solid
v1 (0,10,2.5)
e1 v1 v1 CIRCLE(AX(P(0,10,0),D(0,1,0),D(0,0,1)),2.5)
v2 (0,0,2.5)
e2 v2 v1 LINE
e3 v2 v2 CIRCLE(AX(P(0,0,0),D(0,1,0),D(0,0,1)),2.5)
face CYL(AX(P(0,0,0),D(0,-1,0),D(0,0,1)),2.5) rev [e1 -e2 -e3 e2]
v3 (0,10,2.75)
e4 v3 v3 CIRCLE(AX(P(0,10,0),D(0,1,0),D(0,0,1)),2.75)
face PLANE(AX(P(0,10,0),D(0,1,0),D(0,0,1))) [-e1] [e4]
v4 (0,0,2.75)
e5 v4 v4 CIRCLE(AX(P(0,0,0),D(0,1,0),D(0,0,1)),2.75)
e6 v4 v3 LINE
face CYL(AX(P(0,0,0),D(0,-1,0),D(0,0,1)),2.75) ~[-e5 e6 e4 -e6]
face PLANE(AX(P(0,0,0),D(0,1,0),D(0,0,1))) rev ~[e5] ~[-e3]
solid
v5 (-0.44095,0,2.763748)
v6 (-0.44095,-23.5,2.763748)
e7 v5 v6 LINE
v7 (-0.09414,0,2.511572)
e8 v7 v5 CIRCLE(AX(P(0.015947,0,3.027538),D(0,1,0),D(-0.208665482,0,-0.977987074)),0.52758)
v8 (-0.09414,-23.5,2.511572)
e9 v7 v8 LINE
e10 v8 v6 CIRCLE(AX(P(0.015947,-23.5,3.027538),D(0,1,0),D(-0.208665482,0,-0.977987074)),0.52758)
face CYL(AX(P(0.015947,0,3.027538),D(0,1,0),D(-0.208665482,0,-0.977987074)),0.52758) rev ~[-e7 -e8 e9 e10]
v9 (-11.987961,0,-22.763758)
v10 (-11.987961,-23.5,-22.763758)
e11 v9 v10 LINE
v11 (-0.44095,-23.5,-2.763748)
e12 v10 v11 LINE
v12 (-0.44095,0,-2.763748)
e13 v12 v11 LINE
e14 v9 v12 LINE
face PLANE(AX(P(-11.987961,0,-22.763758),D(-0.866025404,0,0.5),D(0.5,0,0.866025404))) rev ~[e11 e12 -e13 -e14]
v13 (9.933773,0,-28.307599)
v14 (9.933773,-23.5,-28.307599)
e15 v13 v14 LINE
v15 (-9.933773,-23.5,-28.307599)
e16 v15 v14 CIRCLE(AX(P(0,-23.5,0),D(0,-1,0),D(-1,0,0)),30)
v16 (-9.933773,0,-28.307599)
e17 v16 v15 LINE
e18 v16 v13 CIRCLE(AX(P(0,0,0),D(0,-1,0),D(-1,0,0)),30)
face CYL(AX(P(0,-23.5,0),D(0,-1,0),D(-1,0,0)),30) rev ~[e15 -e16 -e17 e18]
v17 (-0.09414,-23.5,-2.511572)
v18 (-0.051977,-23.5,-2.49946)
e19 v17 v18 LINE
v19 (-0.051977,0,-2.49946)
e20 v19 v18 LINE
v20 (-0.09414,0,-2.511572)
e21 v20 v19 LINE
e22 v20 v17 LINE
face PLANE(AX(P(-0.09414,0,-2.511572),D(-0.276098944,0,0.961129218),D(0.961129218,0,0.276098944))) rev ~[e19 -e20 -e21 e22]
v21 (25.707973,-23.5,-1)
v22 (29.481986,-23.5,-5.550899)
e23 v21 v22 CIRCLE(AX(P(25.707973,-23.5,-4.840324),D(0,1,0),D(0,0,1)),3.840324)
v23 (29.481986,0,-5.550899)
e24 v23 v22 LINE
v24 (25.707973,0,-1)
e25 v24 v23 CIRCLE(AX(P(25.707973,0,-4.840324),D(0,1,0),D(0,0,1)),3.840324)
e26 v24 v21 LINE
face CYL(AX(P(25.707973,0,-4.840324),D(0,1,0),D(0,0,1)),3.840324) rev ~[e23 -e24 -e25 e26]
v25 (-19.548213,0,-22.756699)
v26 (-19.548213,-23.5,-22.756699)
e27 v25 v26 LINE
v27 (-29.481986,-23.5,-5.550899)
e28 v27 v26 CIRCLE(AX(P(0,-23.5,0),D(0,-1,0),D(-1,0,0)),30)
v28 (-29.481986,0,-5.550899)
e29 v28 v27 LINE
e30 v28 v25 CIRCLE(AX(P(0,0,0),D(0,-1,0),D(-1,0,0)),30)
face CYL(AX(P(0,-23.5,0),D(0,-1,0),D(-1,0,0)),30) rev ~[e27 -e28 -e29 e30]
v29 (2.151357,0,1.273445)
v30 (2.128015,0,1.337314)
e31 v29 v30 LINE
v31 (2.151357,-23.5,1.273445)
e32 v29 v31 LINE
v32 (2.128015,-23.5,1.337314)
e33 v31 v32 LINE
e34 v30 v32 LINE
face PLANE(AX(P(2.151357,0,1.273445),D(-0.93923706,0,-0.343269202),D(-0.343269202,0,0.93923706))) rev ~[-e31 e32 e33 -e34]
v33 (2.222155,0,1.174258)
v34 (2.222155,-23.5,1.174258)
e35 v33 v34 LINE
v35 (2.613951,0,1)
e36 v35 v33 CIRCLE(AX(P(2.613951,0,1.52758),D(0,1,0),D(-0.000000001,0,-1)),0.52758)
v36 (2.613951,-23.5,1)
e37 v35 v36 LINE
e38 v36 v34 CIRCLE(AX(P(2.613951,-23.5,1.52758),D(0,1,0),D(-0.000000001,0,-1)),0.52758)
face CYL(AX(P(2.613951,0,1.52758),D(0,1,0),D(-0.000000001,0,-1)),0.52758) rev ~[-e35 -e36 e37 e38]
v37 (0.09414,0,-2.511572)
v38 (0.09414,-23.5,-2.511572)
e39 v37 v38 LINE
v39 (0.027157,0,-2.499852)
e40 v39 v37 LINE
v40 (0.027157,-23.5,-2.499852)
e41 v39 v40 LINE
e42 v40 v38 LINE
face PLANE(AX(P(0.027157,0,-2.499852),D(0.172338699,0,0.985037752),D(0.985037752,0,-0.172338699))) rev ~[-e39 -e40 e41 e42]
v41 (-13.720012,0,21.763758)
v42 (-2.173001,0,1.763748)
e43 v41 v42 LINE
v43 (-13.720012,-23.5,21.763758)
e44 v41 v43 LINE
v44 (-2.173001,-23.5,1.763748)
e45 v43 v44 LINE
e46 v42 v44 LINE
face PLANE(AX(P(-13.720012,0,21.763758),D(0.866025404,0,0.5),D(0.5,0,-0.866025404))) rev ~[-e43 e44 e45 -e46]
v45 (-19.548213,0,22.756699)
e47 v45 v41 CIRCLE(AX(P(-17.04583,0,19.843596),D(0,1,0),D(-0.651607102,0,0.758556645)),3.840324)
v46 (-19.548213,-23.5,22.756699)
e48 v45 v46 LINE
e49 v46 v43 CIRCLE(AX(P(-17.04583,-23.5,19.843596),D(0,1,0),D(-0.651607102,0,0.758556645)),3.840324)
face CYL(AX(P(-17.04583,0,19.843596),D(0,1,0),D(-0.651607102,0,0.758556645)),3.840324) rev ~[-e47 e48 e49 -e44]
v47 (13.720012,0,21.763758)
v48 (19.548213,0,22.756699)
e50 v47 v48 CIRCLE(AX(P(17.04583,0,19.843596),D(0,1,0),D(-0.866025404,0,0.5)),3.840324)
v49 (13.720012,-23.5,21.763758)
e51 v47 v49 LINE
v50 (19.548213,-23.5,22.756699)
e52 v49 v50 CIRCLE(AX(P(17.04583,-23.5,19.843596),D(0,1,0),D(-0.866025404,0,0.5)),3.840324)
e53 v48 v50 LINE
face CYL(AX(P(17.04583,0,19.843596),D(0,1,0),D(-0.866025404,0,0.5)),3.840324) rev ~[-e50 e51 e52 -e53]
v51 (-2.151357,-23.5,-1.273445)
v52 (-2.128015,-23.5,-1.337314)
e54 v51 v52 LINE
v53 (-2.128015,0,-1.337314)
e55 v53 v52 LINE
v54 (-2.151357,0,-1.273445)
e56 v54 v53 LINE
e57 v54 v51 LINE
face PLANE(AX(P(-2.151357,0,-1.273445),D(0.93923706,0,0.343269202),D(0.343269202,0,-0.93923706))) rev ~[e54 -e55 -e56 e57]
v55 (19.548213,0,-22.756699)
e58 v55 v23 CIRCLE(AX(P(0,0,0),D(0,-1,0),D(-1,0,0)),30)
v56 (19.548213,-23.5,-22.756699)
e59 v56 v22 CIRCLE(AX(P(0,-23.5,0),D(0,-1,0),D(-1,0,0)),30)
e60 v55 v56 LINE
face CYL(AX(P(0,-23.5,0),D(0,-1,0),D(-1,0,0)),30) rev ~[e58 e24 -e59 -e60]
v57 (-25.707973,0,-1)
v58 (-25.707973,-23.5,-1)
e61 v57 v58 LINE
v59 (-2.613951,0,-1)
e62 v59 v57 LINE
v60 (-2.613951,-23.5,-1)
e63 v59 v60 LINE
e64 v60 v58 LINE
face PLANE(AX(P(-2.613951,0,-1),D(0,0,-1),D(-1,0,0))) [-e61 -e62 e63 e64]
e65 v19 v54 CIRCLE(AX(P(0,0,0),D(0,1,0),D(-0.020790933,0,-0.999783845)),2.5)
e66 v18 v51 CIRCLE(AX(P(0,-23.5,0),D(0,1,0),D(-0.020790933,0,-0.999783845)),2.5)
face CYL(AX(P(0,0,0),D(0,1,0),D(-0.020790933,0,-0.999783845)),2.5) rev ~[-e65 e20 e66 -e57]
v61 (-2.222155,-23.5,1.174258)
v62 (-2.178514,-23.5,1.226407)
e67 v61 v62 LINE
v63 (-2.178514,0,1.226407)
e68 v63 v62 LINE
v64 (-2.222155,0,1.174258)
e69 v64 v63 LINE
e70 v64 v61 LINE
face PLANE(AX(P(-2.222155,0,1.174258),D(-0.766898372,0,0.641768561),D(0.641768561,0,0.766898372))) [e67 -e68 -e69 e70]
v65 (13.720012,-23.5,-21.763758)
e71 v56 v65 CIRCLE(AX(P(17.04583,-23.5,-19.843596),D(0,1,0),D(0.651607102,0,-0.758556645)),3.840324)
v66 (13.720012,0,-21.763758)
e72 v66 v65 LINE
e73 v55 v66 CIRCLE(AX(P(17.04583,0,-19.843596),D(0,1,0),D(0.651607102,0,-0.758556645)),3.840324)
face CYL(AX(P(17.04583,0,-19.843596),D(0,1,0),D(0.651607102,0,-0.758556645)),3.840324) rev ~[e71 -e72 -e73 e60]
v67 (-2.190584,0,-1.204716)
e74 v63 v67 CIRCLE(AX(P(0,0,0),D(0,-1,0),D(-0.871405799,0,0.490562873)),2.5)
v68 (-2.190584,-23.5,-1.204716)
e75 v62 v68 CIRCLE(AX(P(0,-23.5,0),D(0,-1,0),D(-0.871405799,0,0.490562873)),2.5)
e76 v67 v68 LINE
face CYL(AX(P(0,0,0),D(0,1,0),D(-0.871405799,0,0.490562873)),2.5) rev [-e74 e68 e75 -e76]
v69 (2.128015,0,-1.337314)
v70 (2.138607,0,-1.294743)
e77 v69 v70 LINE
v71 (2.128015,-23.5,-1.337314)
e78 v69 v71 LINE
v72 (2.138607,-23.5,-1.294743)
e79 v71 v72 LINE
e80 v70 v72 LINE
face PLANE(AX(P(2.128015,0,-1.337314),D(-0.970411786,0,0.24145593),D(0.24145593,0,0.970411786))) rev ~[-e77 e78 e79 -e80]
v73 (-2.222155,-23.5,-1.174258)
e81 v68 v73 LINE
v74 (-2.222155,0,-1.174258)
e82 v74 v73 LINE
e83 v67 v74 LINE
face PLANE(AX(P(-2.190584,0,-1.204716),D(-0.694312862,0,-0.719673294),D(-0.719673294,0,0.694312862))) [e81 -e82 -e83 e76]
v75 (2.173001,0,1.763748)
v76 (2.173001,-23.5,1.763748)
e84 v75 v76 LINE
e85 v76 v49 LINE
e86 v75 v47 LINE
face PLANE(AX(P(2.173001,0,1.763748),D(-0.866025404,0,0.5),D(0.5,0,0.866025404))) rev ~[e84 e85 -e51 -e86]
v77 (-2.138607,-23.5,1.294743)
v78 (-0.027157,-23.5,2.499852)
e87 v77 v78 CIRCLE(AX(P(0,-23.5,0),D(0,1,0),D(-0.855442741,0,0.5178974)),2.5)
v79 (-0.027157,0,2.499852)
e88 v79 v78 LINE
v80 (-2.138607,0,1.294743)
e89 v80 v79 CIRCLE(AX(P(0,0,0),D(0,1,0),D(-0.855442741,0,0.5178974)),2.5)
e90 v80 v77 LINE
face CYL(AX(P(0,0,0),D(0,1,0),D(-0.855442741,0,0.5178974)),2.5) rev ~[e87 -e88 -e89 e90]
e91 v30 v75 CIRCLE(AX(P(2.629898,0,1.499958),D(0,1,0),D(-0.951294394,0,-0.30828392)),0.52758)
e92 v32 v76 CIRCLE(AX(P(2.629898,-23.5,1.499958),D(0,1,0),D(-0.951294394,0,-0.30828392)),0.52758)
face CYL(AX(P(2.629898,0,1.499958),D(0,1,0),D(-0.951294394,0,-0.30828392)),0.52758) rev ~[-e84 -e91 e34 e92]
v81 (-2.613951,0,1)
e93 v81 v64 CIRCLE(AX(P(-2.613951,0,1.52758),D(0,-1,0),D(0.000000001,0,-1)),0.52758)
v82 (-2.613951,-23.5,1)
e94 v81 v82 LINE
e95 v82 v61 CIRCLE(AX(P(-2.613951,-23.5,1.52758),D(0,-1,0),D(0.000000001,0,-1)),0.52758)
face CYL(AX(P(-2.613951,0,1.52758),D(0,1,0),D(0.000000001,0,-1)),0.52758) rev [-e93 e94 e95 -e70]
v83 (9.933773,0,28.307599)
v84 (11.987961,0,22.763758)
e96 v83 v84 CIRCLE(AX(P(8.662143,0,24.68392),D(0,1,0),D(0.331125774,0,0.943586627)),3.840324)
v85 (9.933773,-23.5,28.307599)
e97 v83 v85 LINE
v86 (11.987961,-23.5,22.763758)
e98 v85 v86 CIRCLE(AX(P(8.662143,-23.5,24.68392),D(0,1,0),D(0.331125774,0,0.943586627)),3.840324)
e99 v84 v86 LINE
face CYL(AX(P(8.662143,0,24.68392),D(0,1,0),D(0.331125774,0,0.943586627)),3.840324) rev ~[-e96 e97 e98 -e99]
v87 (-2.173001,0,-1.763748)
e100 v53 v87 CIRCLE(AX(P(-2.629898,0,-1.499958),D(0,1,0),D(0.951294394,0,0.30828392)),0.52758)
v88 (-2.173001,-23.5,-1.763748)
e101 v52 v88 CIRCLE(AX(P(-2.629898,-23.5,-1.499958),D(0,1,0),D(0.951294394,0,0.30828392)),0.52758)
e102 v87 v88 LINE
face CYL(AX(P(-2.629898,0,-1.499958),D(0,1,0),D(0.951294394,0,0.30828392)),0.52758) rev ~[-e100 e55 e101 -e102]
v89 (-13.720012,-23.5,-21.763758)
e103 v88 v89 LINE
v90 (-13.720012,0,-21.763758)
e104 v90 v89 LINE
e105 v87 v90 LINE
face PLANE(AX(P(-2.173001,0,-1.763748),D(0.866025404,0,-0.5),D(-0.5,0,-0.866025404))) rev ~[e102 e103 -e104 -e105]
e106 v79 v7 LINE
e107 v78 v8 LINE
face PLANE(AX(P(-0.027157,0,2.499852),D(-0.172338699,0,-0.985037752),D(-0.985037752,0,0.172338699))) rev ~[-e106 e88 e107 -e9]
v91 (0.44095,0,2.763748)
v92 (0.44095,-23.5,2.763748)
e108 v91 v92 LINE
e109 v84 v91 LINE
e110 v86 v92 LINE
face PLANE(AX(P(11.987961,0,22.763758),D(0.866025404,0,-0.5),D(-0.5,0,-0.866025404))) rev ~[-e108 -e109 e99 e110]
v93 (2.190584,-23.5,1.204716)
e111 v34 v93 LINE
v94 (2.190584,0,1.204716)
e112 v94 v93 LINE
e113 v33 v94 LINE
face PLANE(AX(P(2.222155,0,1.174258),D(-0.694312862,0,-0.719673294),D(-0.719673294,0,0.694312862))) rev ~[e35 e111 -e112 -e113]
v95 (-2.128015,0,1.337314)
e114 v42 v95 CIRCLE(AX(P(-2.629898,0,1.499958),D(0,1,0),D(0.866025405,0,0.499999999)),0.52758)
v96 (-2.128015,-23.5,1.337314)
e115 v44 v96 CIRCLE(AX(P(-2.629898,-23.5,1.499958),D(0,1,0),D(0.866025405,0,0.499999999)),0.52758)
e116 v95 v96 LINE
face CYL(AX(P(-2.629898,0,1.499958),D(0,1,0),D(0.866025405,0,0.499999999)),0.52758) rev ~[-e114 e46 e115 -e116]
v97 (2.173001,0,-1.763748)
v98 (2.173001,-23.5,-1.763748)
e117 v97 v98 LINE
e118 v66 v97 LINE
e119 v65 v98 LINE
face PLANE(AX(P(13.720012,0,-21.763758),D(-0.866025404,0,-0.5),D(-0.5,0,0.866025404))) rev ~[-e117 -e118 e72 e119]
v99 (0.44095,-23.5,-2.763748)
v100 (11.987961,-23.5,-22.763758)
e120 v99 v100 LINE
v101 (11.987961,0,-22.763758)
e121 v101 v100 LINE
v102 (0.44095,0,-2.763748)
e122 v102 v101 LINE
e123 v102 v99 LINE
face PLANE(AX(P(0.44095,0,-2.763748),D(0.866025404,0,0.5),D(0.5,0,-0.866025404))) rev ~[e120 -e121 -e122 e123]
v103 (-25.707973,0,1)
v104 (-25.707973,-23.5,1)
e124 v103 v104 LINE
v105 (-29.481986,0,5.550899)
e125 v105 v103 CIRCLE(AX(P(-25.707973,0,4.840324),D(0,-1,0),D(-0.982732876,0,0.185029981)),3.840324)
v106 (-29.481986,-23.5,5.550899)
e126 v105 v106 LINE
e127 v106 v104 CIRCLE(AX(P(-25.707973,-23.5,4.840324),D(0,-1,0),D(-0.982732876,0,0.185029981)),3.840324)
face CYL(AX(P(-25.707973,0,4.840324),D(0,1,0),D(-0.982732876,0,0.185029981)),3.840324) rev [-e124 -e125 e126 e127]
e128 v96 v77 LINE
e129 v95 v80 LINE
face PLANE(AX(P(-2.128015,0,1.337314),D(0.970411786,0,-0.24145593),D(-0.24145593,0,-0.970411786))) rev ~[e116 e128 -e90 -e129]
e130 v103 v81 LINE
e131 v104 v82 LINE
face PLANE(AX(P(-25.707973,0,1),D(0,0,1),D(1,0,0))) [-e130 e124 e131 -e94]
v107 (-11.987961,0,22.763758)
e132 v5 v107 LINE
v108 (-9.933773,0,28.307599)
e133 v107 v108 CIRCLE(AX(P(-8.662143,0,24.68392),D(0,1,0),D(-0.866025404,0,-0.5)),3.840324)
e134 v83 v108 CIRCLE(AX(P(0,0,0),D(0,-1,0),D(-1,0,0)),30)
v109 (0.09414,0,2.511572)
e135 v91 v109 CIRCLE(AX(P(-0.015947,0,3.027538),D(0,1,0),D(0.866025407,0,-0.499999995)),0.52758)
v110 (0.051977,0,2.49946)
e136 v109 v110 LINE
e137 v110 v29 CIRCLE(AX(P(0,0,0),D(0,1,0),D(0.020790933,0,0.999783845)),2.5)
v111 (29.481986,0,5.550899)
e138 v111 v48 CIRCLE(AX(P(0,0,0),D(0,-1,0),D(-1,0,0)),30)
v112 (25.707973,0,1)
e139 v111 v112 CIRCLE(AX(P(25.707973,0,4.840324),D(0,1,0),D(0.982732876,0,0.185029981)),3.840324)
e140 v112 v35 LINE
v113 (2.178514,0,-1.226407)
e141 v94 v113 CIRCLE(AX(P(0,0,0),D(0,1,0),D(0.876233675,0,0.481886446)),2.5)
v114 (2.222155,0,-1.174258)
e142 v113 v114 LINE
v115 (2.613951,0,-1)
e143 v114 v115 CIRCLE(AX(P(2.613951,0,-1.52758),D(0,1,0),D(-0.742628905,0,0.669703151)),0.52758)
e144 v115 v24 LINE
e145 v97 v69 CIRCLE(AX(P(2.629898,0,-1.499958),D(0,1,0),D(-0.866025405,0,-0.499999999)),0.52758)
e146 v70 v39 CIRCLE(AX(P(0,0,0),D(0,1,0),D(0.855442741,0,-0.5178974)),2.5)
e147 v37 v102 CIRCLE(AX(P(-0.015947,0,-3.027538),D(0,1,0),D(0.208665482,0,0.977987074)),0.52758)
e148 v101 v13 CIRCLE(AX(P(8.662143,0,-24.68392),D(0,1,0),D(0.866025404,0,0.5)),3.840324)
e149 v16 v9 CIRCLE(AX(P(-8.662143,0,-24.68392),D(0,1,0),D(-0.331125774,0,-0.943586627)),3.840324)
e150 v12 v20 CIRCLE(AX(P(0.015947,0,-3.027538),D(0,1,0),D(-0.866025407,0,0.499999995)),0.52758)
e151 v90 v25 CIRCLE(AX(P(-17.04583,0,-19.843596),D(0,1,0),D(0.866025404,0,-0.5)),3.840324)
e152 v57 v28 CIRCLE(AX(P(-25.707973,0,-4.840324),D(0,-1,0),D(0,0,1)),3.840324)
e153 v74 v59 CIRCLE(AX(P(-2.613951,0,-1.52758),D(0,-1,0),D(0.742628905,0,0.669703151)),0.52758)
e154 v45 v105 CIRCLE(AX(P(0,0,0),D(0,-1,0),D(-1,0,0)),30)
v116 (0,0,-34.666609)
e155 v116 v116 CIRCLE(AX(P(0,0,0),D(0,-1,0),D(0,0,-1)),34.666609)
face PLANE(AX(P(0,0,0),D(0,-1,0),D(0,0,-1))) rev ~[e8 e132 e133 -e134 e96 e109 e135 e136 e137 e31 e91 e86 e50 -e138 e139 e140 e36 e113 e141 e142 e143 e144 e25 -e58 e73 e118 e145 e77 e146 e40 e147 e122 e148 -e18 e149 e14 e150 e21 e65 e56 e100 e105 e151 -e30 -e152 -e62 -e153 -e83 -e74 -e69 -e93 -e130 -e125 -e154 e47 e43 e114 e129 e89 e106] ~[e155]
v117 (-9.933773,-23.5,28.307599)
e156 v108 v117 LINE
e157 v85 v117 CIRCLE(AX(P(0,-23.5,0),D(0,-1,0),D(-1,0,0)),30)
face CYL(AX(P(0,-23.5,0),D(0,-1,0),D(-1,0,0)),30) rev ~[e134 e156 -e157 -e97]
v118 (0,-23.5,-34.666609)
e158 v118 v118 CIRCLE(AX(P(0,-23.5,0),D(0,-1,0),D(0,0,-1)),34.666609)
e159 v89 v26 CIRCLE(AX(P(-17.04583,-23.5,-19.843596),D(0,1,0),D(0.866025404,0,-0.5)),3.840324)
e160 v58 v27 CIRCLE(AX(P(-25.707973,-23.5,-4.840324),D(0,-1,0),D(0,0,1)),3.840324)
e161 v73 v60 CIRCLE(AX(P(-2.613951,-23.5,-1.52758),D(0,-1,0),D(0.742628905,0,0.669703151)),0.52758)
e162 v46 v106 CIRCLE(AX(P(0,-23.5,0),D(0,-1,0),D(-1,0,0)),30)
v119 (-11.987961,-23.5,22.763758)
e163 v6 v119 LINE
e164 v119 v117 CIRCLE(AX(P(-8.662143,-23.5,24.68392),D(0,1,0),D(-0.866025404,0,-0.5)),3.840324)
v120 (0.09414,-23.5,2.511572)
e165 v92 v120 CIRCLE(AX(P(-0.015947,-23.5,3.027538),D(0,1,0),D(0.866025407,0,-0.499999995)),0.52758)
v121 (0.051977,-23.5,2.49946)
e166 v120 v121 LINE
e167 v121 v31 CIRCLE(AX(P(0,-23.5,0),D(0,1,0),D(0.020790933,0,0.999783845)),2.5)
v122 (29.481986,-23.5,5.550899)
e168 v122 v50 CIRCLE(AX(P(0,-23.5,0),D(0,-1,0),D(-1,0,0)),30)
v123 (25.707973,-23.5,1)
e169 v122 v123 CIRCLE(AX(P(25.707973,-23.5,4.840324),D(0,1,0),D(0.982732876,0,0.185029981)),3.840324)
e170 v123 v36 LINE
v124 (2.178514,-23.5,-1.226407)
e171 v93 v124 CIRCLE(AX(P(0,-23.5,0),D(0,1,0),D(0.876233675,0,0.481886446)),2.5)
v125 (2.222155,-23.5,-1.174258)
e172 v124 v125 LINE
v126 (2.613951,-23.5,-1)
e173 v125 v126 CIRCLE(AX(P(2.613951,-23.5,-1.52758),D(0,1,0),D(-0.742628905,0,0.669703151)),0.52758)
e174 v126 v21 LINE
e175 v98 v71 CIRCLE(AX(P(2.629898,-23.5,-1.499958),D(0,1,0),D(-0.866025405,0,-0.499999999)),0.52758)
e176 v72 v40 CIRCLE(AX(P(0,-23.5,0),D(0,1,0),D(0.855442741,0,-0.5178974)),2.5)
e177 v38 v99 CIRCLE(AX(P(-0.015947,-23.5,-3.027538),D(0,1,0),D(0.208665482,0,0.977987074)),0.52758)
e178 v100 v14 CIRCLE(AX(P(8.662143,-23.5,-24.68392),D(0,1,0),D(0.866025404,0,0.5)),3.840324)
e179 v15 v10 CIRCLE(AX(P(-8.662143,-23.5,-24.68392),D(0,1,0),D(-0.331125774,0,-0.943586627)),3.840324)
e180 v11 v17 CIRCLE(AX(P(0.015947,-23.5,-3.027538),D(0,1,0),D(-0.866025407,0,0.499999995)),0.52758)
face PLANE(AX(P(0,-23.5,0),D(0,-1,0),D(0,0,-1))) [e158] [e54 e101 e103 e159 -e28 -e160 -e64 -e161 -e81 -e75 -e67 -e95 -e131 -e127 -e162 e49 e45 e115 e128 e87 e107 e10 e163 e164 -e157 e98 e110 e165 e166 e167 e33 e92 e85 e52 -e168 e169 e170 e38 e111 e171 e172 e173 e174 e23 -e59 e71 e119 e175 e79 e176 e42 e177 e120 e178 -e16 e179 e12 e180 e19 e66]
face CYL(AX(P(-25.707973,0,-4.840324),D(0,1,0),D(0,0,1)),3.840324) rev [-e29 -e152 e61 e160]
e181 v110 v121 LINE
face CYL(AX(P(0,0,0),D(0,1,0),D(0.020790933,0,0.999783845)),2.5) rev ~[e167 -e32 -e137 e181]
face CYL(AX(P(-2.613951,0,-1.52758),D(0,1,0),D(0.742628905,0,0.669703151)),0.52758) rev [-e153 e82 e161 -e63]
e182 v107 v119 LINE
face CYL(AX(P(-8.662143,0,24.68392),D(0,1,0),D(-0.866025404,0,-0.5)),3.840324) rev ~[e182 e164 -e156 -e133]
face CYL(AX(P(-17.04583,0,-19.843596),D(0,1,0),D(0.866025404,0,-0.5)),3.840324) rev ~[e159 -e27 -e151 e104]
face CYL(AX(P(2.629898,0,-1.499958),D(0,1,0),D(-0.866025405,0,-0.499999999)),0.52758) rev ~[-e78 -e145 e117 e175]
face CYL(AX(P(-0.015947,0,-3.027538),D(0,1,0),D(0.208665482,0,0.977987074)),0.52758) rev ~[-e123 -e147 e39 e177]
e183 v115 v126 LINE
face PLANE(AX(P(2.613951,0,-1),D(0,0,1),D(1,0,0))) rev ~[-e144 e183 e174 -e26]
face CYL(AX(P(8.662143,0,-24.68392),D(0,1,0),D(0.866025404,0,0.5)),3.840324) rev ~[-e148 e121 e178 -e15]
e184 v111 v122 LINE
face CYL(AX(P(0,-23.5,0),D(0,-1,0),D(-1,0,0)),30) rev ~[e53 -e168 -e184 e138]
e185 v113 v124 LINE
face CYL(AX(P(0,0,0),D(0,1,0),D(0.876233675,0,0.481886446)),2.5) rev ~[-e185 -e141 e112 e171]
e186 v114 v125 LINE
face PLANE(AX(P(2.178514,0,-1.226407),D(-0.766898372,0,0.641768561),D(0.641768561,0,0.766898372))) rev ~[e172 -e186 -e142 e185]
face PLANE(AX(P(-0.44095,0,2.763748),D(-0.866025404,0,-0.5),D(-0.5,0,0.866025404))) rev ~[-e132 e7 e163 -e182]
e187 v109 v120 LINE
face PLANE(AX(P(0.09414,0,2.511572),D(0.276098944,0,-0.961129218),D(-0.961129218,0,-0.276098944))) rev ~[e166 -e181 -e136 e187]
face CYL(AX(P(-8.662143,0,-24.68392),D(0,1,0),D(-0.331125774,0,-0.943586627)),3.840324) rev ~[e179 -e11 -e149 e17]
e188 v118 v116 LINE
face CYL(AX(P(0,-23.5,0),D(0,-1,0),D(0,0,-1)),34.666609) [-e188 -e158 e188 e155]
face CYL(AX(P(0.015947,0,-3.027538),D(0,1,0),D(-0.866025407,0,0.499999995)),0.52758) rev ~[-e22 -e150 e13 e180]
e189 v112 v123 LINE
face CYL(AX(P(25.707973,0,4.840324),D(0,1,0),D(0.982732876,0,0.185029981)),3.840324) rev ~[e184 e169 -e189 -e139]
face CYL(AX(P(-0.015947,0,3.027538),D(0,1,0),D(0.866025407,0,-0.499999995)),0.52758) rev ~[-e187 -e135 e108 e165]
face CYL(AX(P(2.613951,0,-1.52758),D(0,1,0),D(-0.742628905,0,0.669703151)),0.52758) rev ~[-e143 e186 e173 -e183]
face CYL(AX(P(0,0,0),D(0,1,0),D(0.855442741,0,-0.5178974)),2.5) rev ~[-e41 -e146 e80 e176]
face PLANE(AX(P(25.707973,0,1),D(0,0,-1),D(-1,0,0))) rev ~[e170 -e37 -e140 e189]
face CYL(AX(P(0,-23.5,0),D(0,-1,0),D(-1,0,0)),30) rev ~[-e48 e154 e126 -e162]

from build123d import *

# Parameters (mm, degrees)
SKETCH1_R             = 2.75
SKETCH1_R_2           = 2.5
BOSS_EXTRUDE1_DEPTH   = 10
BOSS_EXTRUDE3_DEPTH   = 23.5
BOSS_EXTRUDE3_2_DEPTH = 23.5
BOSS_EXTRUDE3_3_DEPTH = 23.5
BOSS_EXTRUDE3_4_DEPTH = 23.5
BOSS_EXTRUDE3_5_DEPTH = 23.5
BOSS_EXTRUDE3_6_DEPTH = 23.5
SKETCH5_R             = 34.666608733
SKETCH5_R_2           = 30
BOSS_EXTRUDE4_DEPTH   = 23.5
SKETCH6_R             = 1.5
BOSS_EXTRUDE5_DEPTH   = 28
SKETCH7_R             = 2.25
CUT_EXTRUDE1_DEPTH    = 28


with BuildPart() as part:
    # Sketch1 → Boss-Extrude1 (new body)
    with BuildSketch(Plane(origin=(0, 0, 0), x_dir=(1, 0, 0), z_dir=(0, 1, 0))):
        with Locations(Location((0, 0, 0), (0, 0, 270))):
            Circle(SKETCH1_R)
        with Locations(Location((0, 0, 0), (0, 0, 270))):
            Circle(SKETCH1_R_2, mode=Mode.SUBTRACT)
    extrude(amount=BOSS_EXTRUDE1_DEPTH)


with BuildPart() as body_2:
    # Sketch2 → Boss-Extrude3 (new body)
    with BuildSketch(Plane(origin=(0, 0, 0), x_dir=(-1, 0, 0), z_dir=(0, -1, 0))):
        with BuildLine():
            Line((2.61395079, 1), (25.707973339, 1))
            ThreePointArc((25.707973339, 1), (28.664062792, 2.388870469), (29.481986287, 5.550899437))
            ThreePointArc((29.481986287, 5.550899437), (30, 0), (29.481986287, -5.550899437))
            ThreePointArc((29.481986287, -5.550899437), (28.664062792, -2.388870469), (25.707973339, -1))
            Line((25.707973339, -1), (2.61395079, -1))
            ThreePointArc((2.61395079, -1), (2.399550586, -1.045528996), (2.222154945, -1.174257873))
            Line((2.222154945, -1.174257873), (2.178514499, -1.226407182))
            ThreePointArc((2.178514499, -1.226407182), (2.499969191, -0.012411485), (2.190584188, 1.204716114))
            Line((2.190584188, 1.204716114), (2.222154945, 1.174257873))
            ThreePointArc((2.222154945, 1.174257873), (2.399550586, 1.045528996), (2.61395079, 1))
        make_face()
    extrude(amount=BOSS_EXTRUDE3_DEPTH)



with BuildPart() as body_3:
    # Sketch2 → Boss-Extrude3 2 (new body)
    with BuildSketch(Plane(origin=(0, 0, 0), x_dir=(-1, 0, 0), z_dir=(0, -1, 0))):
        with BuildLine():
            Line((0.440949991, -2.763747789), (11.987961266, -22.763757991))
            ThreePointArc((11.987961266, -22.763757991), (12.263208883, -26.018241788), (9.933773217, -28.307598797))
            ThreePointArc((9.933773217, -28.307598797), (15, -25.980762114), (19.54821307, -22.75669936))
            ThreePointArc((19.54821307, -22.75669936), (16.400853909, -23.629371319), (13.720012073, -21.763757991))
            Line((13.720012073, -21.763757991), (2.173000799, -1.763747789))
            ThreePointArc((2.173000799, -1.763747789), (2.105229964, -1.555307267), (2.128014621, -1.337313697))
            Line((2.128014621, -1.337313697), (2.138606853, -1.294743499))
            ThreePointArc((2.138606853, -1.294743499), (1.239235934, -2.17124257), (0.027157474, -2.49985249))
            Line((0.027157474, -2.49985249), (0.094140324, -2.511571571))
            ThreePointArc((0.094140324, -2.511571571), (0.294320622, -2.600836263), (0.440949991, -2.763747789))
        make_face()
    extrude(amount=BOSS_EXTRUDE3_2_DEPTH)


with BuildPart() as body_4:
    # Sketch2 → Boss-Extrude3 3 (new body)
    with BuildSketch(Plane(origin=(0, 0, 0), x_dir=(-1, 0, 0), z_dir=(0, -1, 0))):
        with BuildLine():
            Line((-2.173000799, -1.763747789), (-13.720012073, -21.763757991))
            ThreePointArc((-13.720012073, -21.763757991), (-16.400853909, -23.629371319), (-19.54821307, -22.75669936))
            ThreePointArc((-19.54821307, -22.75669936), (-15, -25.980762114), (-9.933773217, -28.307598797))
            ThreePointArc((-9.933773217, -28.307598797), (-12.263208883, -26.018241788), (-11.987961266, -22.763757991))
            Line((-11.987961266, -22.763757991), (-0.440949991, -2.763747789))
            ThreePointArc((-0.440949991, -2.763747789), (-0.294320622, -2.600836263), (-0.094140324, -2.511571571))
            Line((-0.094140324, -2.511571571), (-0.051977335, -2.499459613))
            ThreePointArc((-0.051977335, -2.499459613), (-1.260733257, -2.158831086), (-2.151357025, -1.273445308))
            Line((-2.151357025, -1.273445308), (-2.128014621, -1.337313697))
            ThreePointArc((-2.128014621, -1.337313697), (-2.105229964, -1.555307267), (-2.173000799, -1.763747789))
        make_face()
    extrude(amount=BOSS_EXTRUDE3_3_DEPTH)


with BuildPart() as body_5:
    # Sketch2 → Boss-Extrude3 4 (new body)
    with BuildSketch(Plane(origin=(0, 0, 0), x_dir=(-1, 0, 0), z_dir=(0, -1, 0))):
        with BuildLine():
            Line((-2.61395079, 1), (-25.707973339, 1))
            ThreePointArc((-25.707973339, 1), (-28.664062792, 2.388870469), (-29.481986287, 5.550899437))
            ThreePointArc((-29.481986287, 5.550899437), (-30, 0), (-29.481986287, -5.550899437))
            ThreePointArc((-29.481986287, -5.550899437), (-28.664062792, -2.388870469), (-25.707973339, -1))
            Line((-25.707973339, -1), (-2.61395079, -1))
            ThreePointArc((-2.61395079, -1), (-2.399550586, -1.045528996), (-2.222154945, -1.174257873))
            Line((-2.222154945, -1.174257873), (-2.190584188, -1.204716114))
            ThreePointArc((-2.190584188, -1.204716114), (-2.499969191, 0.012411485), (-2.178514499, 1.226407182))
            Line((-2.178514499, 1.226407182), (-2.222154945, 1.174257873))
            ThreePointArc((-2.222154945, 1.174257873), (-2.399550586, 1.045528996), (-2.61395079, 1))
        make_face()
    extrude(amount=BOSS_EXTRUDE3_4_DEPTH)


with BuildPart() as body_6:
    # Sketch2 → Boss-Extrude3 5 (new body)
    with BuildSketch(Plane(origin=(0, 0, 0), x_dir=(-1, 0, 0), z_dir=(0, -1, 0))):
        with BuildLine():
            Line((-0.440949991, 2.763747789), (-11.987961266, 22.763757991))
            ThreePointArc((-11.987961266, 22.763757991), (-12.263208883, 26.018241788), (-9.933773217, 28.307598797))
            ThreePointArc((-9.933773217, 28.307598797), (-15, 25.980762114), (-19.54821307, 22.75669936))
            ThreePointArc((-19.54821307, 22.75669936), (-16.400853909, 23.629371319), (-13.720012073, 21.763757991))
            Line((-13.720012073, 21.763757991), (-2.173000799, 1.763747789))
            ThreePointArc((-2.173000799, 1.763747789), (-2.105229964, 1.555307267), (-2.128014621, 1.337313697))
            Line((-2.128014621, 1.337313697), (-2.138606853, 1.294743499))
            ThreePointArc((-2.138606853, 1.294743499), (-1.239235934, 2.17124257), (-0.027157474, 2.49985249))
            Line((-0.027157474, 2.49985249), (-0.094140324, 2.511571571))
            ThreePointArc((-0.094140324, 2.511571571), (-0.294320622, 2.600836263), (-0.440949991, 2.763747789))
        make_face()
    extrude(amount=BOSS_EXTRUDE3_5_DEPTH)


with BuildPart() as body_7:
    # Sketch2 → Boss-Extrude3 6 (new body)
    with BuildSketch(Plane(origin=(0, 0, 0), x_dir=(-1, 0, 0), z_dir=(0, -1, 0))):
        with BuildLine():
            Line((2.173000799, 1.763747789), (13.720012073, 21.763757991))
            ThreePointArc((13.720012073, 21.763757991), (16.400853909, 23.629371319), (19.54821307, 22.75669936))
            ThreePointArc((19.54821307, 22.75669936), (15, 25.980762114), (9.933773217, 28.307598797))
            ThreePointArc((9.933773217, 28.307598797), (12.263208883, 26.018241788), (11.987961266, 22.763757991))
            Line((11.987961266, 22.763757991), (0.440949991, 2.763747789))
            ThreePointArc((0.440949991, 2.763747789), (0.294320622, 2.600836263), (0.094140324, 2.511571571))
            Line((0.094140324, 2.511571571), (0.051977335, 2.499459613))
            ThreePointArc((0.051977335, 2.499459613), (1.260733257, 2.158831086), (2.151357025, 1.273445308))
            Line((2.151357025, 1.273445308), (2.128014621, 1.337313697))
            ThreePointArc((2.128014621, 1.337313697), (2.105229964, 1.555307267), (2.173000799, 1.763747789))
        make_face()
    extrude(amount=BOSS_EXTRUDE3_6_DEPTH)


with BuildPart() as body_2_1:
    add(body_2.part)

    add(body_3.part)  # Boss-Extrude4 merges body 3

    add(body_4.part)  # Boss-Extrude4 merges body 4

    add(body_5.part)  # Boss-Extrude4 merges body 5

    add(body_6.part)  # Boss-Extrude4 merges body 6

    add(body_7.part)  # Boss-Extrude4 merges body 7
    # Sketch5 → Boss-Extrude4 (add)
    with BuildSketch(Plane(origin=(0, -23.5, 0), x_dir=(-1, 0, 0), z_dir=(0, -1, 0))):
        with Locations(Location((0, 0, 0), (0, 0, 90))):
            Circle(SKETCH5_R)
        Circle(SKETCH5_R_2, mode=Mode.SUBTRACT)
    extrude(amount=-BOSS_EXTRUDE4_DEPTH)


with BuildPart() as body_3_2:
    # Sketch6 → Boss-Extrude5 (new body)
    with BuildSketch(Plane(origin=(0, 10, 0), x_dir=(1, 0, 0), z_dir=(0, 1, 0))):
        with Locations(Location((0, 0, 0), (0, 0, 270))):
            Circle(SKETCH6_R)
    extrude(amount=-BOSS_EXTRUDE5_DEPTH)

    # Sketch7 → Cut-Extrude1 (cut)
    with BuildSketch(Plane(origin=(0, 10, 0), x_dir=(1, 0, 0), z_dir=(0, 1, 0))):
        Circle(SKETCH7_R)
    extrude(amount=-CUT_EXTRUDE1_DEPTH, mode=Mode.SUBTRACT)


solid = Compound([part.part, body_2_1.part])
